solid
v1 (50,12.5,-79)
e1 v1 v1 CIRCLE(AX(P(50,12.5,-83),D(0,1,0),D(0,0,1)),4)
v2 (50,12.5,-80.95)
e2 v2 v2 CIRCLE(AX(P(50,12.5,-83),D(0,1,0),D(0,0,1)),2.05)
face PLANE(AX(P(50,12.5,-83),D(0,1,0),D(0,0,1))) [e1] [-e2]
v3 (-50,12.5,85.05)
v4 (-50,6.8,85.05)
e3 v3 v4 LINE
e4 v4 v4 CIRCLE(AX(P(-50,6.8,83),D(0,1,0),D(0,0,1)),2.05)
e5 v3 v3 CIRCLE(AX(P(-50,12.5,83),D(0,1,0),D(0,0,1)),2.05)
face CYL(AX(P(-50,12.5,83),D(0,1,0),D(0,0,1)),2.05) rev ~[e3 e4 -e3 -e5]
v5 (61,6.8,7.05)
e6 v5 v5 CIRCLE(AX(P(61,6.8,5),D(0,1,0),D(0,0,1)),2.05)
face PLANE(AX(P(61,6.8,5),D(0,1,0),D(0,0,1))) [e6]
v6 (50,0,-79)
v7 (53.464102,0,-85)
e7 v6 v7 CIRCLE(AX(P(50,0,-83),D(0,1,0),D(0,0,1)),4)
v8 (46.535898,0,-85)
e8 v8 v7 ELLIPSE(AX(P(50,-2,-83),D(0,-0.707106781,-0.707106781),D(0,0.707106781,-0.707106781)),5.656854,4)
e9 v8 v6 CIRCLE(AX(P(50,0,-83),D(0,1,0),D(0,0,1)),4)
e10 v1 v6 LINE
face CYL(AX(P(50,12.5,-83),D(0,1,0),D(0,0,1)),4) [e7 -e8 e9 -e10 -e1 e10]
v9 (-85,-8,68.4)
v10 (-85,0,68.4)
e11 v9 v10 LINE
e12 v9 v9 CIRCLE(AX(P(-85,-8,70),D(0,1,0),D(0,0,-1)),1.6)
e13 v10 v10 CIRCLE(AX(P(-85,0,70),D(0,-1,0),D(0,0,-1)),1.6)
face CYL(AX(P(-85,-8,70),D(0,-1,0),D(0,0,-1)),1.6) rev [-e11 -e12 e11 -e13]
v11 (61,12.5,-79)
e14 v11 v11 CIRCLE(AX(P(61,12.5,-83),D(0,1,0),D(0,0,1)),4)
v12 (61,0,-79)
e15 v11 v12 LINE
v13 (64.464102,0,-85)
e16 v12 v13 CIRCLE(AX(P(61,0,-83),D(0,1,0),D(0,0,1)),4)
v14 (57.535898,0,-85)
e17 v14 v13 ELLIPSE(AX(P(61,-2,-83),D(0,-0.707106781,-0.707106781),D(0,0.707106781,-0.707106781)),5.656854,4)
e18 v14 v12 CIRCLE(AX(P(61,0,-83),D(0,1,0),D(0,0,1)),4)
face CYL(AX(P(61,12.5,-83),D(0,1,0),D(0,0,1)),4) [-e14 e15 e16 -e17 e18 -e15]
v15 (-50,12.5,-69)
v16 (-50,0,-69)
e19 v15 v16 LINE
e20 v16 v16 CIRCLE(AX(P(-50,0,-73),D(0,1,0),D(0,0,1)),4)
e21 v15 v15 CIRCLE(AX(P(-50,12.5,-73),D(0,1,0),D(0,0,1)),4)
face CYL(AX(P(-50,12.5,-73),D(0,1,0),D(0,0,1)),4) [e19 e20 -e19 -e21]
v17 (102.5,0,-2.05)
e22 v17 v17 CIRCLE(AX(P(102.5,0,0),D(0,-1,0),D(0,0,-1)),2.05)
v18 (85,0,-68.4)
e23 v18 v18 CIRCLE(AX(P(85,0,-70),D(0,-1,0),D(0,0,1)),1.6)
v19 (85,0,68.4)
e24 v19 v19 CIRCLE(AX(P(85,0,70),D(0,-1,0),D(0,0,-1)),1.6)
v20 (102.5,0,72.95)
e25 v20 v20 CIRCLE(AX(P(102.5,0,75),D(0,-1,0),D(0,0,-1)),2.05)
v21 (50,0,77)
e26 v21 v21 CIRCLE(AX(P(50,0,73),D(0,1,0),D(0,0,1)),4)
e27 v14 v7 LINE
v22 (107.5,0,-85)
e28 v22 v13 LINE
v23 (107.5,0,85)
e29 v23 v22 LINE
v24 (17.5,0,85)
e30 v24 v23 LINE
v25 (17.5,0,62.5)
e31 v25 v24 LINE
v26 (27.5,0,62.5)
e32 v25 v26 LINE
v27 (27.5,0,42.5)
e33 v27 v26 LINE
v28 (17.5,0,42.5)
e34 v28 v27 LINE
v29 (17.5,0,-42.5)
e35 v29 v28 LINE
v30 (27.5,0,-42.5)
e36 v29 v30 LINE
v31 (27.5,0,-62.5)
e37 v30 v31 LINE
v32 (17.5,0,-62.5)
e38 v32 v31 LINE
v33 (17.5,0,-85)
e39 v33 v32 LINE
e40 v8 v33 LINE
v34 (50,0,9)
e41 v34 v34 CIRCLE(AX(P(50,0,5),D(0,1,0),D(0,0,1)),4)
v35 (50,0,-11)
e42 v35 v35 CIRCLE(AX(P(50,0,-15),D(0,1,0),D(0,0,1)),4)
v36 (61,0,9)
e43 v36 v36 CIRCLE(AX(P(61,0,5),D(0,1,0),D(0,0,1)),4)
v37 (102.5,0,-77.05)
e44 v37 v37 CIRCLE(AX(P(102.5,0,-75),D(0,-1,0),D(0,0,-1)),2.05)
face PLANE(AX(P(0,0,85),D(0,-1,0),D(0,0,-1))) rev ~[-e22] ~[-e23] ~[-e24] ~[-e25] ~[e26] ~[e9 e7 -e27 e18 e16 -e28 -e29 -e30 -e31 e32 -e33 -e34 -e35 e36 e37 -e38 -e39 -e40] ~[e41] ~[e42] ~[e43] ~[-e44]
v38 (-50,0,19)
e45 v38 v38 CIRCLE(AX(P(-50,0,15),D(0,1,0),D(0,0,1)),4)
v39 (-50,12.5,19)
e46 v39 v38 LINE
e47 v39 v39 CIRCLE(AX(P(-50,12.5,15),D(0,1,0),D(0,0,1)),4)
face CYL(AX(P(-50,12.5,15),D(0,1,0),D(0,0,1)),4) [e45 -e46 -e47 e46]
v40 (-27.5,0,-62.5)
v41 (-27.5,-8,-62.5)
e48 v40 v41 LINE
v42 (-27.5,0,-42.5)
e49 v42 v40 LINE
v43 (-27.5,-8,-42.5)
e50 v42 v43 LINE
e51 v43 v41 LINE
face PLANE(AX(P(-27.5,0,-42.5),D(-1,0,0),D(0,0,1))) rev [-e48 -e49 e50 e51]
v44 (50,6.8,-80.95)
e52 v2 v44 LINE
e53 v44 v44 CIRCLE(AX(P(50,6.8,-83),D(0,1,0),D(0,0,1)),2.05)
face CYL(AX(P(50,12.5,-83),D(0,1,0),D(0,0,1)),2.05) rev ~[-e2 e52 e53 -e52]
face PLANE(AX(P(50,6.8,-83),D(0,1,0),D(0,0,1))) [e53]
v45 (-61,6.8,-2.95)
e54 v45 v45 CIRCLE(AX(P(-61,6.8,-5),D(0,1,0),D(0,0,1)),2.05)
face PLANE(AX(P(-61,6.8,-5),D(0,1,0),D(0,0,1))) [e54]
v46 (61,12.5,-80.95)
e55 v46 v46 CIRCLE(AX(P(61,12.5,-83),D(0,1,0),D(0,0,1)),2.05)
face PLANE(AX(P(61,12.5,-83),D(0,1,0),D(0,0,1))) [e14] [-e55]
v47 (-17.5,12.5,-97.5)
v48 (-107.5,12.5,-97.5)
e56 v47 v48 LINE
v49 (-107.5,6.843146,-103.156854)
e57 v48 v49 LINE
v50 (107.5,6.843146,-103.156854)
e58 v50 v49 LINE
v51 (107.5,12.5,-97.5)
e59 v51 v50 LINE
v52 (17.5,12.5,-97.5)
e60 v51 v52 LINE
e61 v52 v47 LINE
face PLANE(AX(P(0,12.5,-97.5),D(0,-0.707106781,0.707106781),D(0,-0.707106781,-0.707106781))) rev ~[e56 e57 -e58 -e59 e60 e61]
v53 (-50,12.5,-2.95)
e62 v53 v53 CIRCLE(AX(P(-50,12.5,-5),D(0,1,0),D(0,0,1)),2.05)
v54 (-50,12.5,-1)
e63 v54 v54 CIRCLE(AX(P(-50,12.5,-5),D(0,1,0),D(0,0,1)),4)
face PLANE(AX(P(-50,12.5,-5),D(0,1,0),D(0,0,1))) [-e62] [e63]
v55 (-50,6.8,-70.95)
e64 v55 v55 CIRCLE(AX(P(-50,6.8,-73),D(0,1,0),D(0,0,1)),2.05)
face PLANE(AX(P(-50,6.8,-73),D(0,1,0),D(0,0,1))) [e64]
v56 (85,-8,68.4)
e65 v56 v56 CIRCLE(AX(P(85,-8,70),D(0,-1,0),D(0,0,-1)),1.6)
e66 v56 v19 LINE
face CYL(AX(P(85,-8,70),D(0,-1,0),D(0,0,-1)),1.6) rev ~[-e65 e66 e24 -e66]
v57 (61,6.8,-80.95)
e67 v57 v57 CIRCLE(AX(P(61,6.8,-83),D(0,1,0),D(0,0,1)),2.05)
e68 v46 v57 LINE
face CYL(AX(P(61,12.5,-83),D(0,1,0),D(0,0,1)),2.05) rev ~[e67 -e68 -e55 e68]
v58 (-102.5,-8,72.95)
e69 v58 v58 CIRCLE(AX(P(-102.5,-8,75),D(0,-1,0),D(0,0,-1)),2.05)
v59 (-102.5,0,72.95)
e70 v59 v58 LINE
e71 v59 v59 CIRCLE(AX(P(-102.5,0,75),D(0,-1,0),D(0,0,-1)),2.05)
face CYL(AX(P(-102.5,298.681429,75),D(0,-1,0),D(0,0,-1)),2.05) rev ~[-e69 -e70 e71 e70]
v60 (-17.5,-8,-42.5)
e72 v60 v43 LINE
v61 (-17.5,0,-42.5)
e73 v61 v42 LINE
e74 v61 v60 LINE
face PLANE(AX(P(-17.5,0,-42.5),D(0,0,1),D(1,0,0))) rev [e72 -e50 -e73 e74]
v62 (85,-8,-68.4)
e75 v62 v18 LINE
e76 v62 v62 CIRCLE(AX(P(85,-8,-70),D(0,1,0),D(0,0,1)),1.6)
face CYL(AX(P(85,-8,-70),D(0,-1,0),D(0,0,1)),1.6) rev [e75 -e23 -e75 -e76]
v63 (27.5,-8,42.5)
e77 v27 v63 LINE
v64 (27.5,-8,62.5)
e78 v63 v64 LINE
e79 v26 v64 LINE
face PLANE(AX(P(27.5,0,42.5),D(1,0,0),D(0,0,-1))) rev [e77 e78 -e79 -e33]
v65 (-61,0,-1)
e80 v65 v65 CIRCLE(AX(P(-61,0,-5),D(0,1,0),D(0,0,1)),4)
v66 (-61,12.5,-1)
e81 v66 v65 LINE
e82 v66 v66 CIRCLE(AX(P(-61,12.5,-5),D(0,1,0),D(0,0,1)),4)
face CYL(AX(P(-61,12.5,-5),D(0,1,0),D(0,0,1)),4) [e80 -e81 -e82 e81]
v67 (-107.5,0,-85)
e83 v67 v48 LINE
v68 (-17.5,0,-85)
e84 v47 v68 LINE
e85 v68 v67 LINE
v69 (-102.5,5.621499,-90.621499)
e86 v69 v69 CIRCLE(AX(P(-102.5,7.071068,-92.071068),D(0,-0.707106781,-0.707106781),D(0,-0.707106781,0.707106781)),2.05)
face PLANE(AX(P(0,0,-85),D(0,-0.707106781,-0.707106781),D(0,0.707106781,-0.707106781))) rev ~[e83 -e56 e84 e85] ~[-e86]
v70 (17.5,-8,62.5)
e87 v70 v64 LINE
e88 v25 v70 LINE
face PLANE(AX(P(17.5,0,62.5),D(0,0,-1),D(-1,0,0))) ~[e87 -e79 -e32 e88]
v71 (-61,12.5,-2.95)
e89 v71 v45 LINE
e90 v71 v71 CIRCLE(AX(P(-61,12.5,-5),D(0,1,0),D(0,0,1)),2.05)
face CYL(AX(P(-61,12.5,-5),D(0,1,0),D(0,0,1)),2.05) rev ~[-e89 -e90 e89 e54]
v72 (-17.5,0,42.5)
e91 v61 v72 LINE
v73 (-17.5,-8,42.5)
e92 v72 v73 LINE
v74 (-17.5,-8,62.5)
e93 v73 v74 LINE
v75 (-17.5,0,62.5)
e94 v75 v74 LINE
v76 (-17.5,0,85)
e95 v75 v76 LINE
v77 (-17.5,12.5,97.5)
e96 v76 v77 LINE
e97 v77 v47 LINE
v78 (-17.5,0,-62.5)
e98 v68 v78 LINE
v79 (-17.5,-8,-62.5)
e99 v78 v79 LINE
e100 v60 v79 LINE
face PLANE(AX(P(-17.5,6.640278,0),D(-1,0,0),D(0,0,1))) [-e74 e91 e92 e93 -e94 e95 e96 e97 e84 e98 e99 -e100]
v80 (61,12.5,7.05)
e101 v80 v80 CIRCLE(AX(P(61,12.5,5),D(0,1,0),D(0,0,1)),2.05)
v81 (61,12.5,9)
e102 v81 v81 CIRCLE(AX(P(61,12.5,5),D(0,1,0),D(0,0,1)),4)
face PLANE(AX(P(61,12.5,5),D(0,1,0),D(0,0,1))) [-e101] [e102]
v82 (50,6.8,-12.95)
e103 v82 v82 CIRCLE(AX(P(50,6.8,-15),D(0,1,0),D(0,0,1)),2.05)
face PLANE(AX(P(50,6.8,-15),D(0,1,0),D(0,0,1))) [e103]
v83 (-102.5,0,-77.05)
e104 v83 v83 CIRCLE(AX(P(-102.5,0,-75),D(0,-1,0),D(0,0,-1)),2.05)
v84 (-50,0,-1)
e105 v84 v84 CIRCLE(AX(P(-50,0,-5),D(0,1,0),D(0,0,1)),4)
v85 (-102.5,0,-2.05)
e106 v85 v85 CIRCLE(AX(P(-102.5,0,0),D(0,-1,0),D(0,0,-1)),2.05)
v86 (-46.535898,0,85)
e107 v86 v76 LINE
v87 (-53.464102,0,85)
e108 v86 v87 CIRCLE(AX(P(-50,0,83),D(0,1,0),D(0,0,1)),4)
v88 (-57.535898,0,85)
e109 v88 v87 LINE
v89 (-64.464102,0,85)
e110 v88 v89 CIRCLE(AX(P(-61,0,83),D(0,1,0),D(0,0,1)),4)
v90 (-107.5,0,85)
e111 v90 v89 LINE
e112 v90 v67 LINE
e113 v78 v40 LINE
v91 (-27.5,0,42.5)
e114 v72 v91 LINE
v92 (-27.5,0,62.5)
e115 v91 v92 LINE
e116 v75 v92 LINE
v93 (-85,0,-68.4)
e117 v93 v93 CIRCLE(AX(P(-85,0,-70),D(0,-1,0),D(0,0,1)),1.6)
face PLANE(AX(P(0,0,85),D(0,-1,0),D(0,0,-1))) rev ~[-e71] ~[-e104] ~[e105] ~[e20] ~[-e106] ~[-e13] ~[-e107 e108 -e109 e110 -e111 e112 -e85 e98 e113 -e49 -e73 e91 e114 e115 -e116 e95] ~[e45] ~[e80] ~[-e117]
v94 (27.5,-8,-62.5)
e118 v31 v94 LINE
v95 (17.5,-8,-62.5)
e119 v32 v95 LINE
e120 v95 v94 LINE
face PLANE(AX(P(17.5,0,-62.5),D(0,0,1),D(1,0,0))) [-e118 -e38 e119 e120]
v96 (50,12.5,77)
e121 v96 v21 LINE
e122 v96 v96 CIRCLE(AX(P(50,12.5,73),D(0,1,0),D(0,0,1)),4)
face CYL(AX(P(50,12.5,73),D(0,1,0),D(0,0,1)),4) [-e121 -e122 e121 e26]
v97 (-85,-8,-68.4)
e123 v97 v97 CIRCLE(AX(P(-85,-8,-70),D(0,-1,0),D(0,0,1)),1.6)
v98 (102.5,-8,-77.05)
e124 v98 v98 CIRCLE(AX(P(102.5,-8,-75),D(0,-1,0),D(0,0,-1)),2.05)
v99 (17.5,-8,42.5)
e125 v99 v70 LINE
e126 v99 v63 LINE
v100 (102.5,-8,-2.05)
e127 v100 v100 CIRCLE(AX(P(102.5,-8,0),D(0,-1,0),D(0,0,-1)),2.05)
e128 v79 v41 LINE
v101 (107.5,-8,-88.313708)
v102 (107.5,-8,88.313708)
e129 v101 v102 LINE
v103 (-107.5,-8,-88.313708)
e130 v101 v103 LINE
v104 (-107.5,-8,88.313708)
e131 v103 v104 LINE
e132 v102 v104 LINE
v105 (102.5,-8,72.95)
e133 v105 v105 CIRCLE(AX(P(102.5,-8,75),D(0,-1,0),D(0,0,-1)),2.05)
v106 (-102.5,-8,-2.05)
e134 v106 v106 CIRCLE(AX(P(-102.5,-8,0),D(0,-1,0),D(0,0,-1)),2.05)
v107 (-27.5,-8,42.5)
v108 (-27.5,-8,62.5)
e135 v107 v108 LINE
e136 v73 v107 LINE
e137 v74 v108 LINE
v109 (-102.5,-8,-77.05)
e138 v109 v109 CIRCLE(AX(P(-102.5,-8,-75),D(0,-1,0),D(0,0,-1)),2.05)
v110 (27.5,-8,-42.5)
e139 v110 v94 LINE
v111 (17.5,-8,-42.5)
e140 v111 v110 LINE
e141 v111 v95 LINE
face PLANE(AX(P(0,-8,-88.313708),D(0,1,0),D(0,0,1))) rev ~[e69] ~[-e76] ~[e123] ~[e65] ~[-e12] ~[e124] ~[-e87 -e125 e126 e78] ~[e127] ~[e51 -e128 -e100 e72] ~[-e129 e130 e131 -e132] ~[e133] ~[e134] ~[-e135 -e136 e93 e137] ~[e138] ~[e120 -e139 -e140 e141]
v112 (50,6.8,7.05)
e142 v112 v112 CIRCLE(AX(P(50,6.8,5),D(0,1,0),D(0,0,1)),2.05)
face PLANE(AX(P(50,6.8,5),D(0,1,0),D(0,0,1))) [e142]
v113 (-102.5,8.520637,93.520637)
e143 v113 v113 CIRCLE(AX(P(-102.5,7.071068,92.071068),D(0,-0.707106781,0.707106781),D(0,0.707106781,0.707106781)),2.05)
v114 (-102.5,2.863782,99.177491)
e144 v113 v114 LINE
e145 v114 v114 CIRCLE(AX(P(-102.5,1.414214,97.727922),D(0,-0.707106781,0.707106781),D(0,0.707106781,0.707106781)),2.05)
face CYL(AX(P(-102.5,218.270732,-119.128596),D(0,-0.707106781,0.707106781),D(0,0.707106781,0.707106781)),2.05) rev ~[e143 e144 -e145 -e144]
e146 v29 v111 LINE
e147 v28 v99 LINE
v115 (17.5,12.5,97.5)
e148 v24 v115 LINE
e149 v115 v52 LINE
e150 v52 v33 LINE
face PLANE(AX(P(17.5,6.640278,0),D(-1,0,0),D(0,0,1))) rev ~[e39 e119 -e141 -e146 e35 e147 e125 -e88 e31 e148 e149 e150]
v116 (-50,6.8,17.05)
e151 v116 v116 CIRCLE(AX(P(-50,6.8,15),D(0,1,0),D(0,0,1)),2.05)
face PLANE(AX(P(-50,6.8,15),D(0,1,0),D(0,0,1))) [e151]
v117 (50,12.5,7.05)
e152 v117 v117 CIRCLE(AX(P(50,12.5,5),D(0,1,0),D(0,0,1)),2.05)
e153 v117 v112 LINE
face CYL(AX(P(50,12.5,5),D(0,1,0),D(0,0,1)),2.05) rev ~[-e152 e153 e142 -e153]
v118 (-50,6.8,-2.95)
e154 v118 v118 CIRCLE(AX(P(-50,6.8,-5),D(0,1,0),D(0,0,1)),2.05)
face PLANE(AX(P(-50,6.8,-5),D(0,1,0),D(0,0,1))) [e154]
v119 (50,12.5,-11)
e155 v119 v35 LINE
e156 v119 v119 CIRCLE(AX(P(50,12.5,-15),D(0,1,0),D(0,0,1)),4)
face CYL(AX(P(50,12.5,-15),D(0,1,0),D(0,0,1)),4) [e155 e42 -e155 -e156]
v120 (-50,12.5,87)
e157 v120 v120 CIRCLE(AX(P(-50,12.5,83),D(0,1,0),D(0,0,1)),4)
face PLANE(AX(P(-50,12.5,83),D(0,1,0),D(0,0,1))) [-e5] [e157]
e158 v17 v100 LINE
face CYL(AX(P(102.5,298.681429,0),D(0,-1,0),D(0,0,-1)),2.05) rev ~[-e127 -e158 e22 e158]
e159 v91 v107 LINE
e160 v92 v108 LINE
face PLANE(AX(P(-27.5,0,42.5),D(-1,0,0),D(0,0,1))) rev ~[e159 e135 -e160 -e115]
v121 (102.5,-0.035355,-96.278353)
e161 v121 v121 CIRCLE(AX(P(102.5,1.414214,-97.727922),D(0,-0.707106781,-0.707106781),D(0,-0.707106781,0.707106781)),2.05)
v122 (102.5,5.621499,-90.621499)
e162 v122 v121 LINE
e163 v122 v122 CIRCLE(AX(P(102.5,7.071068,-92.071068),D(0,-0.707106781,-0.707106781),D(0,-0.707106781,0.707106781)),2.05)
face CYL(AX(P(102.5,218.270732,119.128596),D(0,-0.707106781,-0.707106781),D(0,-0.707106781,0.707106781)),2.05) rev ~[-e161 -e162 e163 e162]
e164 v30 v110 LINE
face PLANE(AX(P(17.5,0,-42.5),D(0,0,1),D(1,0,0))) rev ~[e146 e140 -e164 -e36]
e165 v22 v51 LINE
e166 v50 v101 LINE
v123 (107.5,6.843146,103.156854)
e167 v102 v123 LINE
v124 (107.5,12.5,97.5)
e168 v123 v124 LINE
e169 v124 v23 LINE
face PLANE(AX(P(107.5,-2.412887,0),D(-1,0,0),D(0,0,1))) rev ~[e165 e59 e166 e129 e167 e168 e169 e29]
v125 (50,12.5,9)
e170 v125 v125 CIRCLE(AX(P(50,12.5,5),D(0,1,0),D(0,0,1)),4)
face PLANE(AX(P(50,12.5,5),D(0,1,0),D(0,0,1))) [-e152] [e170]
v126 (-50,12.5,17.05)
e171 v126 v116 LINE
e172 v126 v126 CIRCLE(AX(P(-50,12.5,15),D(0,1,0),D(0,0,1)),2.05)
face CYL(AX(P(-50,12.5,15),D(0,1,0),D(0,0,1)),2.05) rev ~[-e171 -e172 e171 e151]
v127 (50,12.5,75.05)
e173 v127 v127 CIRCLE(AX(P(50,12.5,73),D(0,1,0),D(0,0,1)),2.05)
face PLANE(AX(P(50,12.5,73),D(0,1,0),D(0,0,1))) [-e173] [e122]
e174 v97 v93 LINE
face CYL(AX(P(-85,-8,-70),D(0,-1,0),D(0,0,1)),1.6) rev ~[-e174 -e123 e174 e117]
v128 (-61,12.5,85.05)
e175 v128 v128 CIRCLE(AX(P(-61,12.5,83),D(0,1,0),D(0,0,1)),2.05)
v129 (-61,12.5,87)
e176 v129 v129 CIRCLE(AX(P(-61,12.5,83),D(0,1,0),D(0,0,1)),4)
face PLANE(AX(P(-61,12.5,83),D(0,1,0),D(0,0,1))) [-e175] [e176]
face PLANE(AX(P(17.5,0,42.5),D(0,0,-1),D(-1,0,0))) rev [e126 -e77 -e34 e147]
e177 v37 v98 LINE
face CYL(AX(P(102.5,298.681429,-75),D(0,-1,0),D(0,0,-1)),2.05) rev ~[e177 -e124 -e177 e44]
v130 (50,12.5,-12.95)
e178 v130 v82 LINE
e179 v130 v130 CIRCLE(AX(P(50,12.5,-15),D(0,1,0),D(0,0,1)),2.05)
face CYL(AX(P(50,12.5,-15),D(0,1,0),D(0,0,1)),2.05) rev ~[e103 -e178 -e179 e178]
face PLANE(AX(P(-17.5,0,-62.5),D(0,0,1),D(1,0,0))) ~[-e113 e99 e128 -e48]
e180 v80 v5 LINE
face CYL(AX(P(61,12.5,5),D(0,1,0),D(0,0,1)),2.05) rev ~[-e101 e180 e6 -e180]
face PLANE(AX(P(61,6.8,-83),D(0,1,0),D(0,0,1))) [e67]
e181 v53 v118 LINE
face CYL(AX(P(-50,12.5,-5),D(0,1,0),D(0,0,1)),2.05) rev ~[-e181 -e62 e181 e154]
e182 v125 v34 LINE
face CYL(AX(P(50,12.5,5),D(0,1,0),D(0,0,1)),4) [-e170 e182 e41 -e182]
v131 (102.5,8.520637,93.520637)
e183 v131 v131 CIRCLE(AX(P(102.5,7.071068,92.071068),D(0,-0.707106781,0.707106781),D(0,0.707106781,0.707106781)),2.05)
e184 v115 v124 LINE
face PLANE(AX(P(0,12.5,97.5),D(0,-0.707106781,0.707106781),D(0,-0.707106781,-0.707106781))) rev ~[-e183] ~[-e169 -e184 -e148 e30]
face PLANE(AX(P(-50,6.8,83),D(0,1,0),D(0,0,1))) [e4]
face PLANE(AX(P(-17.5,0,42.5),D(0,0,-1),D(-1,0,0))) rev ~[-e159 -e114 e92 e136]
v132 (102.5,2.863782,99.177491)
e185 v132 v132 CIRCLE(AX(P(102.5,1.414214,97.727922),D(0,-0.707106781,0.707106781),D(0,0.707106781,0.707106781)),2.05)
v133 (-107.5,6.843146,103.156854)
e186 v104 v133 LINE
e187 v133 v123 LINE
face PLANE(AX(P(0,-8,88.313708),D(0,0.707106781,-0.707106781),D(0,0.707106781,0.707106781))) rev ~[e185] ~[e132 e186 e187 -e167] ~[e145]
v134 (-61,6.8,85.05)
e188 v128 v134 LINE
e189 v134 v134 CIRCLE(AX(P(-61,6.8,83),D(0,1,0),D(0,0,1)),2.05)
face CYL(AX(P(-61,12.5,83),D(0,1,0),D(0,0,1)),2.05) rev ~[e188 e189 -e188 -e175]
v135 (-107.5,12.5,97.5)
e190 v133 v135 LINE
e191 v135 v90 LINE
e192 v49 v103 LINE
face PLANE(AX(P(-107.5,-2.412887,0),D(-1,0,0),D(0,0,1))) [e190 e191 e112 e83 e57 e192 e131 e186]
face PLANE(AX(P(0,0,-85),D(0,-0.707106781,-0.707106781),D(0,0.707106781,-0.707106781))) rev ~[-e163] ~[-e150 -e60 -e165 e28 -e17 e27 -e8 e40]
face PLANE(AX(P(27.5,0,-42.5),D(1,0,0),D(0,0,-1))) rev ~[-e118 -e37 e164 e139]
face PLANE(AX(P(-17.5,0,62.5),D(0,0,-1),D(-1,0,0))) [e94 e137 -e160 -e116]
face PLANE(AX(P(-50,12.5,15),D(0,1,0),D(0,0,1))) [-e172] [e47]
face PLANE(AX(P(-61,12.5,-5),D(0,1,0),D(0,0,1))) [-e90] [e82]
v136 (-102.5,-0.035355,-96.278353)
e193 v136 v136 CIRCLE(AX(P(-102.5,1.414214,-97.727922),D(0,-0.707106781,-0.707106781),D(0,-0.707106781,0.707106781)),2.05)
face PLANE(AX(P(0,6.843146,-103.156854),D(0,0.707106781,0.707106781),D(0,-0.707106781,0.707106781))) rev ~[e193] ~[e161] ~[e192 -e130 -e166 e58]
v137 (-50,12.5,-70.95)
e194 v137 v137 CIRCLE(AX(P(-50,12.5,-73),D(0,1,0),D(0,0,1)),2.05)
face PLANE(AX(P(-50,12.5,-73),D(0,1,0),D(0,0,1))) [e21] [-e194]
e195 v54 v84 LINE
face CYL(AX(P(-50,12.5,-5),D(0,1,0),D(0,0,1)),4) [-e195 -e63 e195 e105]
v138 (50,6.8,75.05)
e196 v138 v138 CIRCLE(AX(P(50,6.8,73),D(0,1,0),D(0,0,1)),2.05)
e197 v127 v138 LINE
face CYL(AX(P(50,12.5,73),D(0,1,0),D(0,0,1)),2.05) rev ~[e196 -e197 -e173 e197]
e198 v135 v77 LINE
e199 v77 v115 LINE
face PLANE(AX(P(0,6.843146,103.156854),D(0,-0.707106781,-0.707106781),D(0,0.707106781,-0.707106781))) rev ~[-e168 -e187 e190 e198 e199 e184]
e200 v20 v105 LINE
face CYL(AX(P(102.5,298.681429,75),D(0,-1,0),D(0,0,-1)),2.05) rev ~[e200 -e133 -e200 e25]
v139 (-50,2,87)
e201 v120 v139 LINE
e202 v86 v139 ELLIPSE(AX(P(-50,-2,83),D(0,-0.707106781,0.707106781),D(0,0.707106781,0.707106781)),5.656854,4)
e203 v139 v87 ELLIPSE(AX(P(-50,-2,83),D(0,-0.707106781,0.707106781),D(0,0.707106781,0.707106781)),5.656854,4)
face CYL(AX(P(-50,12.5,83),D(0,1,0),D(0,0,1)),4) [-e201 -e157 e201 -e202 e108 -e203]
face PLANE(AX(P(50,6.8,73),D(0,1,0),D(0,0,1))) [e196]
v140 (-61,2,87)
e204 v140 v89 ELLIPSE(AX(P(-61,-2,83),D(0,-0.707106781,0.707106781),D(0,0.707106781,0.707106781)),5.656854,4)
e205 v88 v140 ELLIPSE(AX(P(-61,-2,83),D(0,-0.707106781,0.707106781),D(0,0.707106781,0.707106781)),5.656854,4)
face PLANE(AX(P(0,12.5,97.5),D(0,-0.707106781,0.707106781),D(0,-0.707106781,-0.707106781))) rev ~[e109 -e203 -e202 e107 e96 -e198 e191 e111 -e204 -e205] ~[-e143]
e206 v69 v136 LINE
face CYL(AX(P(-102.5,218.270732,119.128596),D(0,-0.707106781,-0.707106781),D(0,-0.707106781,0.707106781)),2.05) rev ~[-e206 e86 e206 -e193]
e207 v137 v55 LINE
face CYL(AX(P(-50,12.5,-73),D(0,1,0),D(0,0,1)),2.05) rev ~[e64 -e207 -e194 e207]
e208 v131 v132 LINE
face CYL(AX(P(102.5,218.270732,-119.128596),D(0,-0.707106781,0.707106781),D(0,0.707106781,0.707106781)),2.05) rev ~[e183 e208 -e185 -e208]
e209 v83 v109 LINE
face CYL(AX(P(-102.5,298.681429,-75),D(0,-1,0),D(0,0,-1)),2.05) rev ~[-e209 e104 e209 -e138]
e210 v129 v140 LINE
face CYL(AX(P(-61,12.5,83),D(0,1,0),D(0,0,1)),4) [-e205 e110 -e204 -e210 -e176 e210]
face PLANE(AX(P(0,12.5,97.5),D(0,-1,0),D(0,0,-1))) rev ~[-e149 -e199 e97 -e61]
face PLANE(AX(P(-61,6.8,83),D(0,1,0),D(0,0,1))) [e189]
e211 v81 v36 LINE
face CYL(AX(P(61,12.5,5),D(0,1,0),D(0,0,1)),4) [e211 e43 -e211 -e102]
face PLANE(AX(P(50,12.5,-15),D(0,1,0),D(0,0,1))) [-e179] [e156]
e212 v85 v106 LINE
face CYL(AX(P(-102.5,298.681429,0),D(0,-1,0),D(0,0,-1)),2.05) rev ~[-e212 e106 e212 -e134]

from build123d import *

# Parameters (mm, degrees)
MAIN_DEPTH                                   = 107.5
F_4_0MM_DOWEL_HOLE1_D                        = 4.1
F_4_0MM_DOWEL_HOLE1_ON_FACE_2_D              = 4.1
F_4_0MM_DOWEL_HOLE1_ON_FACE_3_D              = 4.1
F_4_0MM_DOWEL_HOLE1_ON_FACE_4_D              = 4.1
SKETCH4_W                                    = 10
SKETCH4_H                                    = 20
BATTERY_STRAP_CUTOUT_DEPTH                   = 150.511994765
BATTERY_STRAP_CUTOUT_MIRROR_AT_THE_S_2_W     = 10
BATTERY_STRAP_CUTOUT_MIRROR_AT_THE_S_2_H     = 20
BATTERY_STRAP_CUTOUT_MIRROR_AT_THE_S_3_DEPTH = 150.511994765
BATTERY_MOUNT_DEPTH                          = 17.5
PCB_MOUNTS_REACH                             = 152.392
SKETCH7_R                                    = 4
SKETCH8_R                                    = 2.05
PCB_MOUNT_INSERTS_DEPTH                      = 5.7
SKETCH9_R                                    = 1.6
FEET_SCREW_HOLE_DEPTH                        = 151.392275662
MIRROR1_AT_THE_SECOND_PLANE_COPY_1_SKETC_R   = 1.6
MIRROR1_AT_THE_SECOND_PLANE_COPY_1_DEPTH     = 151.392275662


with BuildPart() as part:
    # Sketch2 → Main (new, symmetric)
    with BuildSketch(Plane(origin=(0, 0, 0), x_dir=(0, 0, -1), z_dir=(1, 0, 0))):
        Polygon((-85, 0), (85, 0), (97.5, 12.5), (103.156854249, 6.843145751), (88.313708499, -8), (-88.313708499, -8), (-103.156854249, 6.843145751), (-97.5, 12.5), align=None)
    extrude(amount=MAIN_DEPTH, both=True)

    # Ø4.0mm Dowel Hole1 (through all)
    with Locations(Plane(origin=(-102.5, 7.071067812, -92.071067812), x_dir=(0, 0.707106781187, -0.707106781187), z_dir=(0, 0.707106781187, 0.707106781187))):
        with Locations((0, 0)):
            Hole(F_4_0MM_DOWEL_HOLE1_D / 2)

    # Ø4.0mm Dowel Hole1 on face 2 (through all)
    with Locations(Plane(origin=(-102.5, 0, -75), x_dir=(0, 0, 1), z_dir=(0, 1, 0))):
        with Locations((0, 0), (75, 0), (150, 0), (150, 205), (75, 205), (0, 205)):
            Hole(F_4_0MM_DOWEL_HOLE1_ON_FACE_2_D / 2)

    # Ø4.0mm Dowel Hole1 on face 3 (through all)
    with Locations(Plane(origin=(-102.5, 7.071067812, 92.071067812), x_dir=(0, -0.707106781187, -0.707106781187), z_dir=(0, 0.707106781187, -0.707106781187))):
        with Locations((0, 0), (0, -205)):
            Hole(F_4_0MM_DOWEL_HOLE1_ON_FACE_3_D / 2)

    # Ø4.0mm Dowel Hole1 on face 4 (through all)
    with Locations(Plane(origin=(102.5, 7.071067812, -92.071067812), x_dir=(0, 0.707106781187, -0.707106781187), z_dir=(0, 0.707106781187, 0.707106781187))):
        with Locations((0, 0)):
            Hole(F_4_0MM_DOWEL_HOLE1_ON_FACE_4_D / 2)

    # Sketch4 → Battery strap cutout (cut, through all)
    with BuildSketch(Plane(origin=(0, 0, 0), x_dir=(1, 0, 0), z_dir=(0, 1, 0))):
        with Locations((22.5, 52.5)):
            Rectangle(SKETCH4_W, SKETCH4_H)
    battery_strap_cutout = extrude(amount=-BATTERY_STRAP_CUTOUT_DEPTH, mode=Mode.SUBTRACT)

    # Battery strap cutout mirror: Battery strap cutout across plane
    add(battery_strap_cutout.mirror(Plane(origin=(0, 0, 0), x_dir=(0, 0, 1), z_dir=(1, 0, 0))), mode=Mode.SUBTRACT)

    # Battery strap cutout mirror at the secon: Battery strap cutout across plane
    add(battery_strap_cutout.mirror(Plane.XY), mode=Mode.SUBTRACT)

    # Battery strap cutout mirror at the s 2 → Battery strap cutout mirror at the s 3 (cut, through all)
    with BuildSketch(Plane(origin=(0, 0, 0), x_dir=(-1, 0, 0), z_dir=(0, 1, 0))):
        with Locations((22.5, 52.5)):
            Rectangle(BATTERY_STRAP_CUTOUT_MIRROR_AT_THE_S_2_W, BATTERY_STRAP_CUTOUT_MIRROR_AT_THE_S_2_H)
    extrude(amount=-BATTERY_STRAP_CUTOUT_MIRROR_AT_THE_S_3_DEPTH, mode=Mode.SUBTRACT)

    # Sketch6 → Battery mount (add, symmetric)
    with BuildSketch(Plane(origin=(0, 0, 0), x_dir=(0, 0, -1), z_dir=(1, 0, 0))):
        Polygon((-97.5, 12.5), (97.5, 12.5), (85, 0), (-85, 0), align=None)
    extrude(amount=BATTERY_MOUNT_DEPTH, both=True)

    # PCB mounts: up to this face of the body (flat: up to its plane)
    pcb_mounts_end = Plane(part.part.faces().sort_by_distance((63.47007498, 0, 0))[0])
    # Sketch7 → PCB mounts (add, up to the picked face)
    with BuildSketch(Plane(origin=(0, 12.5, 0), x_dir=(1, 0, 0), z_dir=(0, 1, 0)), mode=Mode.PRIVATE) as pcb_mounts_sk1:
        with Locations(Location((-50, -15, 0), (0, 0, 270))):
            Circle(SKETCH7_R)
    pcb_mounts_tool1 = split(extrude(pcb_mounts_sk1.sketch, amount=-PCB_MOUNTS_REACH, mode=Mode.PRIVATE), bisect_by=pcb_mounts_end, keep=Keep.BOTH, mode=Mode.PRIVATE)
    # Sketch7 → PCB mounts (add, up to the picked face)
    with BuildSketch(Plane(origin=(0, 12.5, 0), x_dir=(1, 0, 0), z_dir=(0, 1, 0)), mode=Mode.PRIVATE) as pcb_mounts_sk2:
        with Locations(Location((-50, -83, 0), (0, 0, 270))):
            Circle(SKETCH7_R)
    pcb_mounts_tool2 = split(extrude(pcb_mounts_sk2.sketch, amount=-PCB_MOUNTS_REACH, mode=Mode.PRIVATE), bisect_by=pcb_mounts_end, keep=Keep.BOTH, mode=Mode.PRIVATE)
    # Sketch7 → PCB mounts (add, up to the picked face)
    with BuildSketch(Plane(origin=(0, 12.5, 0), x_dir=(1, 0, 0), z_dir=(0, 1, 0)), mode=Mode.PRIVATE) as pcb_mounts_sk3:
        with Locations(Location((-61, -83, 0), (0, 0, 270))):
            Circle(SKETCH7_R)
    pcb_mounts_tool3 = split(extrude(pcb_mounts_sk3.sketch, amount=-PCB_MOUNTS_REACH, mode=Mode.PRIVATE), bisect_by=pcb_mounts_end, keep=Keep.BOTH, mode=Mode.PRIVATE)
    # Sketch7 → PCB mounts (add, up to the picked face)
    with BuildSketch(Plane(origin=(0, 12.5, 0), x_dir=(1, 0, 0), z_dir=(0, 1, 0)), mode=Mode.PRIVATE) as pcb_mounts_sk4:
        with Locations(Location((-50, 73, 0), (0, 0, 270))):
            Circle(SKETCH7_R)
    pcb_mounts_tool4 = split(extrude(pcb_mounts_sk4.sketch, amount=-PCB_MOUNTS_REACH, mode=Mode.PRIVATE), bisect_by=pcb_mounts_end, keep=Keep.BOTH, mode=Mode.PRIVATE)
    # Sketch7 → PCB mounts (add, up to the picked face)
    with BuildSketch(Plane(origin=(0, 12.5, 0), x_dir=(1, 0, 0), z_dir=(0, 1, 0)), mode=Mode.PRIVATE) as pcb_mounts_sk5:
        with Locations(Location((-50, 5, 0), (0, 0, 270))):
            Circle(SKETCH7_R)
    pcb_mounts_tool5 = split(extrude(pcb_mounts_sk5.sketch, amount=-PCB_MOUNTS_REACH, mode=Mode.PRIVATE), bisect_by=pcb_mounts_end, keep=Keep.BOTH, mode=Mode.PRIVATE)
    # Sketch7 → PCB mounts (add, up to the picked face)
    with BuildSketch(Plane(origin=(0, 12.5, 0), x_dir=(1, 0, 0), z_dir=(0, 1, 0)), mode=Mode.PRIVATE) as pcb_mounts_sk6:
        with Locations(Location((-61, 5, 0), (0, 0, 270))):
            Circle(SKETCH7_R)
    pcb_mounts_tool6 = split(extrude(pcb_mounts_sk6.sketch, amount=-PCB_MOUNTS_REACH, mode=Mode.PRIVATE), bisect_by=pcb_mounts_end, keep=Keep.BOTH, mode=Mode.PRIVATE)
    # Sketch7 → PCB mounts (add, up to the picked face)
    with BuildSketch(Plane(origin=(0, 12.5, 0), x_dir=(1, 0, 0), z_dir=(0, 1, 0)), mode=Mode.PRIVATE) as pcb_mounts_sk7:
        with Locations(Location((61, 83, 0), (0, 0, 270))):
            Circle(SKETCH7_R)
    pcb_mounts_tool7 = split(extrude(pcb_mounts_sk7.sketch, amount=-PCB_MOUNTS_REACH, mode=Mode.PRIVATE), bisect_by=pcb_mounts_end, keep=Keep.BOTH, mode=Mode.PRIVATE)
    # Sketch7 → PCB mounts (add, up to the picked face)
    with BuildSketch(Plane(origin=(0, 12.5, 0), x_dir=(1, 0, 0), z_dir=(0, 1, 0)), mode=Mode.PRIVATE) as pcb_mounts_sk8:
        with Locations(Location((50, 83, 0), (0, 0, 270))):
            Circle(SKETCH7_R)
    pcb_mounts_tool8 = split(extrude(pcb_mounts_sk8.sketch, amount=-PCB_MOUNTS_REACH, mode=Mode.PRIVATE), bisect_by=pcb_mounts_end, keep=Keep.BOTH, mode=Mode.PRIVATE)
    # Sketch7 → PCB mounts (add, up to the picked face)
    with BuildSketch(Plane(origin=(0, 12.5, 0), x_dir=(1, 0, 0), z_dir=(0, 1, 0)), mode=Mode.PRIVATE) as pcb_mounts_sk9:
        with Locations(Location((50, 15, 0), (0, 0, 270))):
            Circle(SKETCH7_R)
    pcb_mounts_tool9 = split(extrude(pcb_mounts_sk9.sketch, amount=-PCB_MOUNTS_REACH, mode=Mode.PRIVATE), bisect_by=pcb_mounts_end, keep=Keep.BOTH, mode=Mode.PRIVATE)
    # Sketch7 → PCB mounts (add, up to the picked face)
    with BuildSketch(Plane(origin=(0, 12.5, 0), x_dir=(1, 0, 0), z_dir=(0, 1, 0)), mode=Mode.PRIVATE) as pcb_mounts_sk10:
        with Locations(Location((61, -5, 0), (0, 0, 270))):
            Circle(SKETCH7_R)
    pcb_mounts_tool10 = split(extrude(pcb_mounts_sk10.sketch, amount=-PCB_MOUNTS_REACH, mode=Mode.PRIVATE), bisect_by=pcb_mounts_end, keep=Keep.BOTH, mode=Mode.PRIVATE)
    # Sketch7 → PCB mounts (add, up to the picked face)
    with BuildSketch(Plane(origin=(0, 12.5, 0), x_dir=(1, 0, 0), z_dir=(0, 1, 0)), mode=Mode.PRIVATE) as pcb_mounts_sk11:
        with Locations(Location((50, -5, 0), (0, 0, 270))):
            Circle(SKETCH7_R)
    pcb_mounts_tool11 = split(extrude(pcb_mounts_sk11.sketch, amount=-PCB_MOUNTS_REACH, mode=Mode.PRIVATE), bisect_by=pcb_mounts_end, keep=Keep.BOTH, mode=Mode.PRIVATE)
    # Sketch7 → PCB mounts (add, up to the picked face)
    with BuildSketch(Plane(origin=(0, 12.5, 0), x_dir=(1, 0, 0), z_dir=(0, 1, 0)), mode=Mode.PRIVATE) as pcb_mounts_sk12:
        with Locations(Location((50, -73, 0), (0, 0, 270))):
            Circle(SKETCH7_R)
    pcb_mounts_tool12 = split(extrude(pcb_mounts_sk12.sketch, amount=-PCB_MOUNTS_REACH, mode=Mode.PRIVATE), bisect_by=pcb_mounts_end, keep=Keep.BOTH, mode=Mode.PRIVATE)
    add(pcb_mounts_tool1.solids().sort_by(Axis((-50, 12.5, 15), (0, -1, 0)))[0])
    add(pcb_mounts_tool2.solids().sort_by(Axis((-50, 12.5, 83), (0, -1, 0)))[0])
    add(pcb_mounts_tool3.solids().sort_by(Axis((-61, 12.5, 83), (0, -1, 0)))[0])
    add(pcb_mounts_tool4.solids().sort_by(Axis((-50, 12.5, -73), (0, -1, 0)))[0])
    add(pcb_mounts_tool5.solids().sort_by(Axis((-50, 12.5, -5), (0, -1, 0)))[0])
    add(pcb_mounts_tool6.solids().sort_by(Axis((-61, 12.5, -5), (0, -1, 0)))[0])
    add(pcb_mounts_tool7.solids().sort_by(Axis((61, 12.5, -83), (0, -1, 0)))[0])
    add(pcb_mounts_tool8.solids().sort_by(Axis((50, 12.5, -83), (0, -1, 0)))[0])
    add(pcb_mounts_tool9.solids().sort_by(Axis((50, 12.5, -15), (0, -1, 0)))[0])
    add(pcb_mounts_tool10.solids().sort_by(Axis((61, 12.5, 5), (0, -1, 0)))[0])
    add(pcb_mounts_tool11.solids().sort_by(Axis((50, 12.5, 5), (0, -1, 0)))[0])
    add(pcb_mounts_tool12.solids().sort_by(Axis((50, 12.5, 73), (0, -1, 0)))[0])

    # Sketch8 → PCB mount inserts (cut)
    with BuildSketch(Plane(origin=(0, 12.5, 0), x_dir=(1, 0, 0), z_dir=(0, 1, 0))):
        with Locations(Location((-50, 73, 0), (0, 0, 270))):
            Circle(SKETCH8_R)
        with Locations(Location((-50, 5, 0), (0, 0, 270))):
            Circle(SKETCH8_R)
        with Locations(Location((-61, 5, 0), (0, 0, 270))):
            Circle(SKETCH8_R)
        with Locations(Location((-50, -15, 0), (0, 0, 270))):
            Circle(SKETCH8_R)
        with Locations(Location((-61, -83, 0), (0, 0, 270))):
            Circle(SKETCH8_R)
        with Locations(Location((-50, -83, 0), (0, 0, 270))):
            Circle(SKETCH8_R)
        with Locations(Location((50, -73, 0), (0, 0, 270))):
            Circle(SKETCH8_R)
        with Locations(Location((61, -5, 0), (0, 0, 270))):
            Circle(SKETCH8_R)
        with Locations(Location((50, -5, 0), (0, 0, 270))):
            Circle(SKETCH8_R)
        with Locations(Location((50, 15, 0), (0, 0, 270))):
            Circle(SKETCH8_R)
        with Locations(Location((61, 83, 0), (0, 0, 270))):
            Circle(SKETCH8_R)
        with Locations(Location((50, 83, 0), (0, 0, 270))):
            Circle(SKETCH8_R)
    extrude(amount=-PCB_MOUNT_INSERTS_DEPTH, mode=Mode.SUBTRACT)

    # Sketch9 → Feet screw hole (cut, through all)
    with BuildSketch(Plane.XZ.offset(8)):
        with Locations(Location((85, 70, 0), (0, 0, 270))):
            Circle(SKETCH9_R)
    feet_screw_hole = extrude(amount=-FEET_SCREW_HOLE_DEPTH, mode=Mode.SUBTRACT)

    # Mirror1: Feet screw hole across plane
    add(feet_screw_hole.mirror(Plane.XY), mode=Mode.SUBTRACT)

    # Mirror1 at the second plane: Feet screw hole across plane
    add(feet_screw_hole.mirror(Plane(origin=(0, 0, 0), x_dir=(0, 0, 1), z_dir=(1, 0, 0))), mode=Mode.SUBTRACT)

    # Mirror1 at the second plane copy 1 sketc → Mirror1 at the second plane copy 1 (cut, through all)
    with BuildSketch(Plane(origin=(0, -8, 0), x_dir=(-1, 0, 0), z_dir=(0, -1, 0))):
        with Locations(Location((85, 70, 0), (0, 0, 270))):
            Circle(MIRROR1_AT_THE_SECOND_PLANE_COPY_1_SKETC_R)
    extrude(amount=-MIRROR1_AT_THE_SECOND_PLANE_COPY_1_DEPTH, mode=Mode.SUBTRACT)


solid = part.part
